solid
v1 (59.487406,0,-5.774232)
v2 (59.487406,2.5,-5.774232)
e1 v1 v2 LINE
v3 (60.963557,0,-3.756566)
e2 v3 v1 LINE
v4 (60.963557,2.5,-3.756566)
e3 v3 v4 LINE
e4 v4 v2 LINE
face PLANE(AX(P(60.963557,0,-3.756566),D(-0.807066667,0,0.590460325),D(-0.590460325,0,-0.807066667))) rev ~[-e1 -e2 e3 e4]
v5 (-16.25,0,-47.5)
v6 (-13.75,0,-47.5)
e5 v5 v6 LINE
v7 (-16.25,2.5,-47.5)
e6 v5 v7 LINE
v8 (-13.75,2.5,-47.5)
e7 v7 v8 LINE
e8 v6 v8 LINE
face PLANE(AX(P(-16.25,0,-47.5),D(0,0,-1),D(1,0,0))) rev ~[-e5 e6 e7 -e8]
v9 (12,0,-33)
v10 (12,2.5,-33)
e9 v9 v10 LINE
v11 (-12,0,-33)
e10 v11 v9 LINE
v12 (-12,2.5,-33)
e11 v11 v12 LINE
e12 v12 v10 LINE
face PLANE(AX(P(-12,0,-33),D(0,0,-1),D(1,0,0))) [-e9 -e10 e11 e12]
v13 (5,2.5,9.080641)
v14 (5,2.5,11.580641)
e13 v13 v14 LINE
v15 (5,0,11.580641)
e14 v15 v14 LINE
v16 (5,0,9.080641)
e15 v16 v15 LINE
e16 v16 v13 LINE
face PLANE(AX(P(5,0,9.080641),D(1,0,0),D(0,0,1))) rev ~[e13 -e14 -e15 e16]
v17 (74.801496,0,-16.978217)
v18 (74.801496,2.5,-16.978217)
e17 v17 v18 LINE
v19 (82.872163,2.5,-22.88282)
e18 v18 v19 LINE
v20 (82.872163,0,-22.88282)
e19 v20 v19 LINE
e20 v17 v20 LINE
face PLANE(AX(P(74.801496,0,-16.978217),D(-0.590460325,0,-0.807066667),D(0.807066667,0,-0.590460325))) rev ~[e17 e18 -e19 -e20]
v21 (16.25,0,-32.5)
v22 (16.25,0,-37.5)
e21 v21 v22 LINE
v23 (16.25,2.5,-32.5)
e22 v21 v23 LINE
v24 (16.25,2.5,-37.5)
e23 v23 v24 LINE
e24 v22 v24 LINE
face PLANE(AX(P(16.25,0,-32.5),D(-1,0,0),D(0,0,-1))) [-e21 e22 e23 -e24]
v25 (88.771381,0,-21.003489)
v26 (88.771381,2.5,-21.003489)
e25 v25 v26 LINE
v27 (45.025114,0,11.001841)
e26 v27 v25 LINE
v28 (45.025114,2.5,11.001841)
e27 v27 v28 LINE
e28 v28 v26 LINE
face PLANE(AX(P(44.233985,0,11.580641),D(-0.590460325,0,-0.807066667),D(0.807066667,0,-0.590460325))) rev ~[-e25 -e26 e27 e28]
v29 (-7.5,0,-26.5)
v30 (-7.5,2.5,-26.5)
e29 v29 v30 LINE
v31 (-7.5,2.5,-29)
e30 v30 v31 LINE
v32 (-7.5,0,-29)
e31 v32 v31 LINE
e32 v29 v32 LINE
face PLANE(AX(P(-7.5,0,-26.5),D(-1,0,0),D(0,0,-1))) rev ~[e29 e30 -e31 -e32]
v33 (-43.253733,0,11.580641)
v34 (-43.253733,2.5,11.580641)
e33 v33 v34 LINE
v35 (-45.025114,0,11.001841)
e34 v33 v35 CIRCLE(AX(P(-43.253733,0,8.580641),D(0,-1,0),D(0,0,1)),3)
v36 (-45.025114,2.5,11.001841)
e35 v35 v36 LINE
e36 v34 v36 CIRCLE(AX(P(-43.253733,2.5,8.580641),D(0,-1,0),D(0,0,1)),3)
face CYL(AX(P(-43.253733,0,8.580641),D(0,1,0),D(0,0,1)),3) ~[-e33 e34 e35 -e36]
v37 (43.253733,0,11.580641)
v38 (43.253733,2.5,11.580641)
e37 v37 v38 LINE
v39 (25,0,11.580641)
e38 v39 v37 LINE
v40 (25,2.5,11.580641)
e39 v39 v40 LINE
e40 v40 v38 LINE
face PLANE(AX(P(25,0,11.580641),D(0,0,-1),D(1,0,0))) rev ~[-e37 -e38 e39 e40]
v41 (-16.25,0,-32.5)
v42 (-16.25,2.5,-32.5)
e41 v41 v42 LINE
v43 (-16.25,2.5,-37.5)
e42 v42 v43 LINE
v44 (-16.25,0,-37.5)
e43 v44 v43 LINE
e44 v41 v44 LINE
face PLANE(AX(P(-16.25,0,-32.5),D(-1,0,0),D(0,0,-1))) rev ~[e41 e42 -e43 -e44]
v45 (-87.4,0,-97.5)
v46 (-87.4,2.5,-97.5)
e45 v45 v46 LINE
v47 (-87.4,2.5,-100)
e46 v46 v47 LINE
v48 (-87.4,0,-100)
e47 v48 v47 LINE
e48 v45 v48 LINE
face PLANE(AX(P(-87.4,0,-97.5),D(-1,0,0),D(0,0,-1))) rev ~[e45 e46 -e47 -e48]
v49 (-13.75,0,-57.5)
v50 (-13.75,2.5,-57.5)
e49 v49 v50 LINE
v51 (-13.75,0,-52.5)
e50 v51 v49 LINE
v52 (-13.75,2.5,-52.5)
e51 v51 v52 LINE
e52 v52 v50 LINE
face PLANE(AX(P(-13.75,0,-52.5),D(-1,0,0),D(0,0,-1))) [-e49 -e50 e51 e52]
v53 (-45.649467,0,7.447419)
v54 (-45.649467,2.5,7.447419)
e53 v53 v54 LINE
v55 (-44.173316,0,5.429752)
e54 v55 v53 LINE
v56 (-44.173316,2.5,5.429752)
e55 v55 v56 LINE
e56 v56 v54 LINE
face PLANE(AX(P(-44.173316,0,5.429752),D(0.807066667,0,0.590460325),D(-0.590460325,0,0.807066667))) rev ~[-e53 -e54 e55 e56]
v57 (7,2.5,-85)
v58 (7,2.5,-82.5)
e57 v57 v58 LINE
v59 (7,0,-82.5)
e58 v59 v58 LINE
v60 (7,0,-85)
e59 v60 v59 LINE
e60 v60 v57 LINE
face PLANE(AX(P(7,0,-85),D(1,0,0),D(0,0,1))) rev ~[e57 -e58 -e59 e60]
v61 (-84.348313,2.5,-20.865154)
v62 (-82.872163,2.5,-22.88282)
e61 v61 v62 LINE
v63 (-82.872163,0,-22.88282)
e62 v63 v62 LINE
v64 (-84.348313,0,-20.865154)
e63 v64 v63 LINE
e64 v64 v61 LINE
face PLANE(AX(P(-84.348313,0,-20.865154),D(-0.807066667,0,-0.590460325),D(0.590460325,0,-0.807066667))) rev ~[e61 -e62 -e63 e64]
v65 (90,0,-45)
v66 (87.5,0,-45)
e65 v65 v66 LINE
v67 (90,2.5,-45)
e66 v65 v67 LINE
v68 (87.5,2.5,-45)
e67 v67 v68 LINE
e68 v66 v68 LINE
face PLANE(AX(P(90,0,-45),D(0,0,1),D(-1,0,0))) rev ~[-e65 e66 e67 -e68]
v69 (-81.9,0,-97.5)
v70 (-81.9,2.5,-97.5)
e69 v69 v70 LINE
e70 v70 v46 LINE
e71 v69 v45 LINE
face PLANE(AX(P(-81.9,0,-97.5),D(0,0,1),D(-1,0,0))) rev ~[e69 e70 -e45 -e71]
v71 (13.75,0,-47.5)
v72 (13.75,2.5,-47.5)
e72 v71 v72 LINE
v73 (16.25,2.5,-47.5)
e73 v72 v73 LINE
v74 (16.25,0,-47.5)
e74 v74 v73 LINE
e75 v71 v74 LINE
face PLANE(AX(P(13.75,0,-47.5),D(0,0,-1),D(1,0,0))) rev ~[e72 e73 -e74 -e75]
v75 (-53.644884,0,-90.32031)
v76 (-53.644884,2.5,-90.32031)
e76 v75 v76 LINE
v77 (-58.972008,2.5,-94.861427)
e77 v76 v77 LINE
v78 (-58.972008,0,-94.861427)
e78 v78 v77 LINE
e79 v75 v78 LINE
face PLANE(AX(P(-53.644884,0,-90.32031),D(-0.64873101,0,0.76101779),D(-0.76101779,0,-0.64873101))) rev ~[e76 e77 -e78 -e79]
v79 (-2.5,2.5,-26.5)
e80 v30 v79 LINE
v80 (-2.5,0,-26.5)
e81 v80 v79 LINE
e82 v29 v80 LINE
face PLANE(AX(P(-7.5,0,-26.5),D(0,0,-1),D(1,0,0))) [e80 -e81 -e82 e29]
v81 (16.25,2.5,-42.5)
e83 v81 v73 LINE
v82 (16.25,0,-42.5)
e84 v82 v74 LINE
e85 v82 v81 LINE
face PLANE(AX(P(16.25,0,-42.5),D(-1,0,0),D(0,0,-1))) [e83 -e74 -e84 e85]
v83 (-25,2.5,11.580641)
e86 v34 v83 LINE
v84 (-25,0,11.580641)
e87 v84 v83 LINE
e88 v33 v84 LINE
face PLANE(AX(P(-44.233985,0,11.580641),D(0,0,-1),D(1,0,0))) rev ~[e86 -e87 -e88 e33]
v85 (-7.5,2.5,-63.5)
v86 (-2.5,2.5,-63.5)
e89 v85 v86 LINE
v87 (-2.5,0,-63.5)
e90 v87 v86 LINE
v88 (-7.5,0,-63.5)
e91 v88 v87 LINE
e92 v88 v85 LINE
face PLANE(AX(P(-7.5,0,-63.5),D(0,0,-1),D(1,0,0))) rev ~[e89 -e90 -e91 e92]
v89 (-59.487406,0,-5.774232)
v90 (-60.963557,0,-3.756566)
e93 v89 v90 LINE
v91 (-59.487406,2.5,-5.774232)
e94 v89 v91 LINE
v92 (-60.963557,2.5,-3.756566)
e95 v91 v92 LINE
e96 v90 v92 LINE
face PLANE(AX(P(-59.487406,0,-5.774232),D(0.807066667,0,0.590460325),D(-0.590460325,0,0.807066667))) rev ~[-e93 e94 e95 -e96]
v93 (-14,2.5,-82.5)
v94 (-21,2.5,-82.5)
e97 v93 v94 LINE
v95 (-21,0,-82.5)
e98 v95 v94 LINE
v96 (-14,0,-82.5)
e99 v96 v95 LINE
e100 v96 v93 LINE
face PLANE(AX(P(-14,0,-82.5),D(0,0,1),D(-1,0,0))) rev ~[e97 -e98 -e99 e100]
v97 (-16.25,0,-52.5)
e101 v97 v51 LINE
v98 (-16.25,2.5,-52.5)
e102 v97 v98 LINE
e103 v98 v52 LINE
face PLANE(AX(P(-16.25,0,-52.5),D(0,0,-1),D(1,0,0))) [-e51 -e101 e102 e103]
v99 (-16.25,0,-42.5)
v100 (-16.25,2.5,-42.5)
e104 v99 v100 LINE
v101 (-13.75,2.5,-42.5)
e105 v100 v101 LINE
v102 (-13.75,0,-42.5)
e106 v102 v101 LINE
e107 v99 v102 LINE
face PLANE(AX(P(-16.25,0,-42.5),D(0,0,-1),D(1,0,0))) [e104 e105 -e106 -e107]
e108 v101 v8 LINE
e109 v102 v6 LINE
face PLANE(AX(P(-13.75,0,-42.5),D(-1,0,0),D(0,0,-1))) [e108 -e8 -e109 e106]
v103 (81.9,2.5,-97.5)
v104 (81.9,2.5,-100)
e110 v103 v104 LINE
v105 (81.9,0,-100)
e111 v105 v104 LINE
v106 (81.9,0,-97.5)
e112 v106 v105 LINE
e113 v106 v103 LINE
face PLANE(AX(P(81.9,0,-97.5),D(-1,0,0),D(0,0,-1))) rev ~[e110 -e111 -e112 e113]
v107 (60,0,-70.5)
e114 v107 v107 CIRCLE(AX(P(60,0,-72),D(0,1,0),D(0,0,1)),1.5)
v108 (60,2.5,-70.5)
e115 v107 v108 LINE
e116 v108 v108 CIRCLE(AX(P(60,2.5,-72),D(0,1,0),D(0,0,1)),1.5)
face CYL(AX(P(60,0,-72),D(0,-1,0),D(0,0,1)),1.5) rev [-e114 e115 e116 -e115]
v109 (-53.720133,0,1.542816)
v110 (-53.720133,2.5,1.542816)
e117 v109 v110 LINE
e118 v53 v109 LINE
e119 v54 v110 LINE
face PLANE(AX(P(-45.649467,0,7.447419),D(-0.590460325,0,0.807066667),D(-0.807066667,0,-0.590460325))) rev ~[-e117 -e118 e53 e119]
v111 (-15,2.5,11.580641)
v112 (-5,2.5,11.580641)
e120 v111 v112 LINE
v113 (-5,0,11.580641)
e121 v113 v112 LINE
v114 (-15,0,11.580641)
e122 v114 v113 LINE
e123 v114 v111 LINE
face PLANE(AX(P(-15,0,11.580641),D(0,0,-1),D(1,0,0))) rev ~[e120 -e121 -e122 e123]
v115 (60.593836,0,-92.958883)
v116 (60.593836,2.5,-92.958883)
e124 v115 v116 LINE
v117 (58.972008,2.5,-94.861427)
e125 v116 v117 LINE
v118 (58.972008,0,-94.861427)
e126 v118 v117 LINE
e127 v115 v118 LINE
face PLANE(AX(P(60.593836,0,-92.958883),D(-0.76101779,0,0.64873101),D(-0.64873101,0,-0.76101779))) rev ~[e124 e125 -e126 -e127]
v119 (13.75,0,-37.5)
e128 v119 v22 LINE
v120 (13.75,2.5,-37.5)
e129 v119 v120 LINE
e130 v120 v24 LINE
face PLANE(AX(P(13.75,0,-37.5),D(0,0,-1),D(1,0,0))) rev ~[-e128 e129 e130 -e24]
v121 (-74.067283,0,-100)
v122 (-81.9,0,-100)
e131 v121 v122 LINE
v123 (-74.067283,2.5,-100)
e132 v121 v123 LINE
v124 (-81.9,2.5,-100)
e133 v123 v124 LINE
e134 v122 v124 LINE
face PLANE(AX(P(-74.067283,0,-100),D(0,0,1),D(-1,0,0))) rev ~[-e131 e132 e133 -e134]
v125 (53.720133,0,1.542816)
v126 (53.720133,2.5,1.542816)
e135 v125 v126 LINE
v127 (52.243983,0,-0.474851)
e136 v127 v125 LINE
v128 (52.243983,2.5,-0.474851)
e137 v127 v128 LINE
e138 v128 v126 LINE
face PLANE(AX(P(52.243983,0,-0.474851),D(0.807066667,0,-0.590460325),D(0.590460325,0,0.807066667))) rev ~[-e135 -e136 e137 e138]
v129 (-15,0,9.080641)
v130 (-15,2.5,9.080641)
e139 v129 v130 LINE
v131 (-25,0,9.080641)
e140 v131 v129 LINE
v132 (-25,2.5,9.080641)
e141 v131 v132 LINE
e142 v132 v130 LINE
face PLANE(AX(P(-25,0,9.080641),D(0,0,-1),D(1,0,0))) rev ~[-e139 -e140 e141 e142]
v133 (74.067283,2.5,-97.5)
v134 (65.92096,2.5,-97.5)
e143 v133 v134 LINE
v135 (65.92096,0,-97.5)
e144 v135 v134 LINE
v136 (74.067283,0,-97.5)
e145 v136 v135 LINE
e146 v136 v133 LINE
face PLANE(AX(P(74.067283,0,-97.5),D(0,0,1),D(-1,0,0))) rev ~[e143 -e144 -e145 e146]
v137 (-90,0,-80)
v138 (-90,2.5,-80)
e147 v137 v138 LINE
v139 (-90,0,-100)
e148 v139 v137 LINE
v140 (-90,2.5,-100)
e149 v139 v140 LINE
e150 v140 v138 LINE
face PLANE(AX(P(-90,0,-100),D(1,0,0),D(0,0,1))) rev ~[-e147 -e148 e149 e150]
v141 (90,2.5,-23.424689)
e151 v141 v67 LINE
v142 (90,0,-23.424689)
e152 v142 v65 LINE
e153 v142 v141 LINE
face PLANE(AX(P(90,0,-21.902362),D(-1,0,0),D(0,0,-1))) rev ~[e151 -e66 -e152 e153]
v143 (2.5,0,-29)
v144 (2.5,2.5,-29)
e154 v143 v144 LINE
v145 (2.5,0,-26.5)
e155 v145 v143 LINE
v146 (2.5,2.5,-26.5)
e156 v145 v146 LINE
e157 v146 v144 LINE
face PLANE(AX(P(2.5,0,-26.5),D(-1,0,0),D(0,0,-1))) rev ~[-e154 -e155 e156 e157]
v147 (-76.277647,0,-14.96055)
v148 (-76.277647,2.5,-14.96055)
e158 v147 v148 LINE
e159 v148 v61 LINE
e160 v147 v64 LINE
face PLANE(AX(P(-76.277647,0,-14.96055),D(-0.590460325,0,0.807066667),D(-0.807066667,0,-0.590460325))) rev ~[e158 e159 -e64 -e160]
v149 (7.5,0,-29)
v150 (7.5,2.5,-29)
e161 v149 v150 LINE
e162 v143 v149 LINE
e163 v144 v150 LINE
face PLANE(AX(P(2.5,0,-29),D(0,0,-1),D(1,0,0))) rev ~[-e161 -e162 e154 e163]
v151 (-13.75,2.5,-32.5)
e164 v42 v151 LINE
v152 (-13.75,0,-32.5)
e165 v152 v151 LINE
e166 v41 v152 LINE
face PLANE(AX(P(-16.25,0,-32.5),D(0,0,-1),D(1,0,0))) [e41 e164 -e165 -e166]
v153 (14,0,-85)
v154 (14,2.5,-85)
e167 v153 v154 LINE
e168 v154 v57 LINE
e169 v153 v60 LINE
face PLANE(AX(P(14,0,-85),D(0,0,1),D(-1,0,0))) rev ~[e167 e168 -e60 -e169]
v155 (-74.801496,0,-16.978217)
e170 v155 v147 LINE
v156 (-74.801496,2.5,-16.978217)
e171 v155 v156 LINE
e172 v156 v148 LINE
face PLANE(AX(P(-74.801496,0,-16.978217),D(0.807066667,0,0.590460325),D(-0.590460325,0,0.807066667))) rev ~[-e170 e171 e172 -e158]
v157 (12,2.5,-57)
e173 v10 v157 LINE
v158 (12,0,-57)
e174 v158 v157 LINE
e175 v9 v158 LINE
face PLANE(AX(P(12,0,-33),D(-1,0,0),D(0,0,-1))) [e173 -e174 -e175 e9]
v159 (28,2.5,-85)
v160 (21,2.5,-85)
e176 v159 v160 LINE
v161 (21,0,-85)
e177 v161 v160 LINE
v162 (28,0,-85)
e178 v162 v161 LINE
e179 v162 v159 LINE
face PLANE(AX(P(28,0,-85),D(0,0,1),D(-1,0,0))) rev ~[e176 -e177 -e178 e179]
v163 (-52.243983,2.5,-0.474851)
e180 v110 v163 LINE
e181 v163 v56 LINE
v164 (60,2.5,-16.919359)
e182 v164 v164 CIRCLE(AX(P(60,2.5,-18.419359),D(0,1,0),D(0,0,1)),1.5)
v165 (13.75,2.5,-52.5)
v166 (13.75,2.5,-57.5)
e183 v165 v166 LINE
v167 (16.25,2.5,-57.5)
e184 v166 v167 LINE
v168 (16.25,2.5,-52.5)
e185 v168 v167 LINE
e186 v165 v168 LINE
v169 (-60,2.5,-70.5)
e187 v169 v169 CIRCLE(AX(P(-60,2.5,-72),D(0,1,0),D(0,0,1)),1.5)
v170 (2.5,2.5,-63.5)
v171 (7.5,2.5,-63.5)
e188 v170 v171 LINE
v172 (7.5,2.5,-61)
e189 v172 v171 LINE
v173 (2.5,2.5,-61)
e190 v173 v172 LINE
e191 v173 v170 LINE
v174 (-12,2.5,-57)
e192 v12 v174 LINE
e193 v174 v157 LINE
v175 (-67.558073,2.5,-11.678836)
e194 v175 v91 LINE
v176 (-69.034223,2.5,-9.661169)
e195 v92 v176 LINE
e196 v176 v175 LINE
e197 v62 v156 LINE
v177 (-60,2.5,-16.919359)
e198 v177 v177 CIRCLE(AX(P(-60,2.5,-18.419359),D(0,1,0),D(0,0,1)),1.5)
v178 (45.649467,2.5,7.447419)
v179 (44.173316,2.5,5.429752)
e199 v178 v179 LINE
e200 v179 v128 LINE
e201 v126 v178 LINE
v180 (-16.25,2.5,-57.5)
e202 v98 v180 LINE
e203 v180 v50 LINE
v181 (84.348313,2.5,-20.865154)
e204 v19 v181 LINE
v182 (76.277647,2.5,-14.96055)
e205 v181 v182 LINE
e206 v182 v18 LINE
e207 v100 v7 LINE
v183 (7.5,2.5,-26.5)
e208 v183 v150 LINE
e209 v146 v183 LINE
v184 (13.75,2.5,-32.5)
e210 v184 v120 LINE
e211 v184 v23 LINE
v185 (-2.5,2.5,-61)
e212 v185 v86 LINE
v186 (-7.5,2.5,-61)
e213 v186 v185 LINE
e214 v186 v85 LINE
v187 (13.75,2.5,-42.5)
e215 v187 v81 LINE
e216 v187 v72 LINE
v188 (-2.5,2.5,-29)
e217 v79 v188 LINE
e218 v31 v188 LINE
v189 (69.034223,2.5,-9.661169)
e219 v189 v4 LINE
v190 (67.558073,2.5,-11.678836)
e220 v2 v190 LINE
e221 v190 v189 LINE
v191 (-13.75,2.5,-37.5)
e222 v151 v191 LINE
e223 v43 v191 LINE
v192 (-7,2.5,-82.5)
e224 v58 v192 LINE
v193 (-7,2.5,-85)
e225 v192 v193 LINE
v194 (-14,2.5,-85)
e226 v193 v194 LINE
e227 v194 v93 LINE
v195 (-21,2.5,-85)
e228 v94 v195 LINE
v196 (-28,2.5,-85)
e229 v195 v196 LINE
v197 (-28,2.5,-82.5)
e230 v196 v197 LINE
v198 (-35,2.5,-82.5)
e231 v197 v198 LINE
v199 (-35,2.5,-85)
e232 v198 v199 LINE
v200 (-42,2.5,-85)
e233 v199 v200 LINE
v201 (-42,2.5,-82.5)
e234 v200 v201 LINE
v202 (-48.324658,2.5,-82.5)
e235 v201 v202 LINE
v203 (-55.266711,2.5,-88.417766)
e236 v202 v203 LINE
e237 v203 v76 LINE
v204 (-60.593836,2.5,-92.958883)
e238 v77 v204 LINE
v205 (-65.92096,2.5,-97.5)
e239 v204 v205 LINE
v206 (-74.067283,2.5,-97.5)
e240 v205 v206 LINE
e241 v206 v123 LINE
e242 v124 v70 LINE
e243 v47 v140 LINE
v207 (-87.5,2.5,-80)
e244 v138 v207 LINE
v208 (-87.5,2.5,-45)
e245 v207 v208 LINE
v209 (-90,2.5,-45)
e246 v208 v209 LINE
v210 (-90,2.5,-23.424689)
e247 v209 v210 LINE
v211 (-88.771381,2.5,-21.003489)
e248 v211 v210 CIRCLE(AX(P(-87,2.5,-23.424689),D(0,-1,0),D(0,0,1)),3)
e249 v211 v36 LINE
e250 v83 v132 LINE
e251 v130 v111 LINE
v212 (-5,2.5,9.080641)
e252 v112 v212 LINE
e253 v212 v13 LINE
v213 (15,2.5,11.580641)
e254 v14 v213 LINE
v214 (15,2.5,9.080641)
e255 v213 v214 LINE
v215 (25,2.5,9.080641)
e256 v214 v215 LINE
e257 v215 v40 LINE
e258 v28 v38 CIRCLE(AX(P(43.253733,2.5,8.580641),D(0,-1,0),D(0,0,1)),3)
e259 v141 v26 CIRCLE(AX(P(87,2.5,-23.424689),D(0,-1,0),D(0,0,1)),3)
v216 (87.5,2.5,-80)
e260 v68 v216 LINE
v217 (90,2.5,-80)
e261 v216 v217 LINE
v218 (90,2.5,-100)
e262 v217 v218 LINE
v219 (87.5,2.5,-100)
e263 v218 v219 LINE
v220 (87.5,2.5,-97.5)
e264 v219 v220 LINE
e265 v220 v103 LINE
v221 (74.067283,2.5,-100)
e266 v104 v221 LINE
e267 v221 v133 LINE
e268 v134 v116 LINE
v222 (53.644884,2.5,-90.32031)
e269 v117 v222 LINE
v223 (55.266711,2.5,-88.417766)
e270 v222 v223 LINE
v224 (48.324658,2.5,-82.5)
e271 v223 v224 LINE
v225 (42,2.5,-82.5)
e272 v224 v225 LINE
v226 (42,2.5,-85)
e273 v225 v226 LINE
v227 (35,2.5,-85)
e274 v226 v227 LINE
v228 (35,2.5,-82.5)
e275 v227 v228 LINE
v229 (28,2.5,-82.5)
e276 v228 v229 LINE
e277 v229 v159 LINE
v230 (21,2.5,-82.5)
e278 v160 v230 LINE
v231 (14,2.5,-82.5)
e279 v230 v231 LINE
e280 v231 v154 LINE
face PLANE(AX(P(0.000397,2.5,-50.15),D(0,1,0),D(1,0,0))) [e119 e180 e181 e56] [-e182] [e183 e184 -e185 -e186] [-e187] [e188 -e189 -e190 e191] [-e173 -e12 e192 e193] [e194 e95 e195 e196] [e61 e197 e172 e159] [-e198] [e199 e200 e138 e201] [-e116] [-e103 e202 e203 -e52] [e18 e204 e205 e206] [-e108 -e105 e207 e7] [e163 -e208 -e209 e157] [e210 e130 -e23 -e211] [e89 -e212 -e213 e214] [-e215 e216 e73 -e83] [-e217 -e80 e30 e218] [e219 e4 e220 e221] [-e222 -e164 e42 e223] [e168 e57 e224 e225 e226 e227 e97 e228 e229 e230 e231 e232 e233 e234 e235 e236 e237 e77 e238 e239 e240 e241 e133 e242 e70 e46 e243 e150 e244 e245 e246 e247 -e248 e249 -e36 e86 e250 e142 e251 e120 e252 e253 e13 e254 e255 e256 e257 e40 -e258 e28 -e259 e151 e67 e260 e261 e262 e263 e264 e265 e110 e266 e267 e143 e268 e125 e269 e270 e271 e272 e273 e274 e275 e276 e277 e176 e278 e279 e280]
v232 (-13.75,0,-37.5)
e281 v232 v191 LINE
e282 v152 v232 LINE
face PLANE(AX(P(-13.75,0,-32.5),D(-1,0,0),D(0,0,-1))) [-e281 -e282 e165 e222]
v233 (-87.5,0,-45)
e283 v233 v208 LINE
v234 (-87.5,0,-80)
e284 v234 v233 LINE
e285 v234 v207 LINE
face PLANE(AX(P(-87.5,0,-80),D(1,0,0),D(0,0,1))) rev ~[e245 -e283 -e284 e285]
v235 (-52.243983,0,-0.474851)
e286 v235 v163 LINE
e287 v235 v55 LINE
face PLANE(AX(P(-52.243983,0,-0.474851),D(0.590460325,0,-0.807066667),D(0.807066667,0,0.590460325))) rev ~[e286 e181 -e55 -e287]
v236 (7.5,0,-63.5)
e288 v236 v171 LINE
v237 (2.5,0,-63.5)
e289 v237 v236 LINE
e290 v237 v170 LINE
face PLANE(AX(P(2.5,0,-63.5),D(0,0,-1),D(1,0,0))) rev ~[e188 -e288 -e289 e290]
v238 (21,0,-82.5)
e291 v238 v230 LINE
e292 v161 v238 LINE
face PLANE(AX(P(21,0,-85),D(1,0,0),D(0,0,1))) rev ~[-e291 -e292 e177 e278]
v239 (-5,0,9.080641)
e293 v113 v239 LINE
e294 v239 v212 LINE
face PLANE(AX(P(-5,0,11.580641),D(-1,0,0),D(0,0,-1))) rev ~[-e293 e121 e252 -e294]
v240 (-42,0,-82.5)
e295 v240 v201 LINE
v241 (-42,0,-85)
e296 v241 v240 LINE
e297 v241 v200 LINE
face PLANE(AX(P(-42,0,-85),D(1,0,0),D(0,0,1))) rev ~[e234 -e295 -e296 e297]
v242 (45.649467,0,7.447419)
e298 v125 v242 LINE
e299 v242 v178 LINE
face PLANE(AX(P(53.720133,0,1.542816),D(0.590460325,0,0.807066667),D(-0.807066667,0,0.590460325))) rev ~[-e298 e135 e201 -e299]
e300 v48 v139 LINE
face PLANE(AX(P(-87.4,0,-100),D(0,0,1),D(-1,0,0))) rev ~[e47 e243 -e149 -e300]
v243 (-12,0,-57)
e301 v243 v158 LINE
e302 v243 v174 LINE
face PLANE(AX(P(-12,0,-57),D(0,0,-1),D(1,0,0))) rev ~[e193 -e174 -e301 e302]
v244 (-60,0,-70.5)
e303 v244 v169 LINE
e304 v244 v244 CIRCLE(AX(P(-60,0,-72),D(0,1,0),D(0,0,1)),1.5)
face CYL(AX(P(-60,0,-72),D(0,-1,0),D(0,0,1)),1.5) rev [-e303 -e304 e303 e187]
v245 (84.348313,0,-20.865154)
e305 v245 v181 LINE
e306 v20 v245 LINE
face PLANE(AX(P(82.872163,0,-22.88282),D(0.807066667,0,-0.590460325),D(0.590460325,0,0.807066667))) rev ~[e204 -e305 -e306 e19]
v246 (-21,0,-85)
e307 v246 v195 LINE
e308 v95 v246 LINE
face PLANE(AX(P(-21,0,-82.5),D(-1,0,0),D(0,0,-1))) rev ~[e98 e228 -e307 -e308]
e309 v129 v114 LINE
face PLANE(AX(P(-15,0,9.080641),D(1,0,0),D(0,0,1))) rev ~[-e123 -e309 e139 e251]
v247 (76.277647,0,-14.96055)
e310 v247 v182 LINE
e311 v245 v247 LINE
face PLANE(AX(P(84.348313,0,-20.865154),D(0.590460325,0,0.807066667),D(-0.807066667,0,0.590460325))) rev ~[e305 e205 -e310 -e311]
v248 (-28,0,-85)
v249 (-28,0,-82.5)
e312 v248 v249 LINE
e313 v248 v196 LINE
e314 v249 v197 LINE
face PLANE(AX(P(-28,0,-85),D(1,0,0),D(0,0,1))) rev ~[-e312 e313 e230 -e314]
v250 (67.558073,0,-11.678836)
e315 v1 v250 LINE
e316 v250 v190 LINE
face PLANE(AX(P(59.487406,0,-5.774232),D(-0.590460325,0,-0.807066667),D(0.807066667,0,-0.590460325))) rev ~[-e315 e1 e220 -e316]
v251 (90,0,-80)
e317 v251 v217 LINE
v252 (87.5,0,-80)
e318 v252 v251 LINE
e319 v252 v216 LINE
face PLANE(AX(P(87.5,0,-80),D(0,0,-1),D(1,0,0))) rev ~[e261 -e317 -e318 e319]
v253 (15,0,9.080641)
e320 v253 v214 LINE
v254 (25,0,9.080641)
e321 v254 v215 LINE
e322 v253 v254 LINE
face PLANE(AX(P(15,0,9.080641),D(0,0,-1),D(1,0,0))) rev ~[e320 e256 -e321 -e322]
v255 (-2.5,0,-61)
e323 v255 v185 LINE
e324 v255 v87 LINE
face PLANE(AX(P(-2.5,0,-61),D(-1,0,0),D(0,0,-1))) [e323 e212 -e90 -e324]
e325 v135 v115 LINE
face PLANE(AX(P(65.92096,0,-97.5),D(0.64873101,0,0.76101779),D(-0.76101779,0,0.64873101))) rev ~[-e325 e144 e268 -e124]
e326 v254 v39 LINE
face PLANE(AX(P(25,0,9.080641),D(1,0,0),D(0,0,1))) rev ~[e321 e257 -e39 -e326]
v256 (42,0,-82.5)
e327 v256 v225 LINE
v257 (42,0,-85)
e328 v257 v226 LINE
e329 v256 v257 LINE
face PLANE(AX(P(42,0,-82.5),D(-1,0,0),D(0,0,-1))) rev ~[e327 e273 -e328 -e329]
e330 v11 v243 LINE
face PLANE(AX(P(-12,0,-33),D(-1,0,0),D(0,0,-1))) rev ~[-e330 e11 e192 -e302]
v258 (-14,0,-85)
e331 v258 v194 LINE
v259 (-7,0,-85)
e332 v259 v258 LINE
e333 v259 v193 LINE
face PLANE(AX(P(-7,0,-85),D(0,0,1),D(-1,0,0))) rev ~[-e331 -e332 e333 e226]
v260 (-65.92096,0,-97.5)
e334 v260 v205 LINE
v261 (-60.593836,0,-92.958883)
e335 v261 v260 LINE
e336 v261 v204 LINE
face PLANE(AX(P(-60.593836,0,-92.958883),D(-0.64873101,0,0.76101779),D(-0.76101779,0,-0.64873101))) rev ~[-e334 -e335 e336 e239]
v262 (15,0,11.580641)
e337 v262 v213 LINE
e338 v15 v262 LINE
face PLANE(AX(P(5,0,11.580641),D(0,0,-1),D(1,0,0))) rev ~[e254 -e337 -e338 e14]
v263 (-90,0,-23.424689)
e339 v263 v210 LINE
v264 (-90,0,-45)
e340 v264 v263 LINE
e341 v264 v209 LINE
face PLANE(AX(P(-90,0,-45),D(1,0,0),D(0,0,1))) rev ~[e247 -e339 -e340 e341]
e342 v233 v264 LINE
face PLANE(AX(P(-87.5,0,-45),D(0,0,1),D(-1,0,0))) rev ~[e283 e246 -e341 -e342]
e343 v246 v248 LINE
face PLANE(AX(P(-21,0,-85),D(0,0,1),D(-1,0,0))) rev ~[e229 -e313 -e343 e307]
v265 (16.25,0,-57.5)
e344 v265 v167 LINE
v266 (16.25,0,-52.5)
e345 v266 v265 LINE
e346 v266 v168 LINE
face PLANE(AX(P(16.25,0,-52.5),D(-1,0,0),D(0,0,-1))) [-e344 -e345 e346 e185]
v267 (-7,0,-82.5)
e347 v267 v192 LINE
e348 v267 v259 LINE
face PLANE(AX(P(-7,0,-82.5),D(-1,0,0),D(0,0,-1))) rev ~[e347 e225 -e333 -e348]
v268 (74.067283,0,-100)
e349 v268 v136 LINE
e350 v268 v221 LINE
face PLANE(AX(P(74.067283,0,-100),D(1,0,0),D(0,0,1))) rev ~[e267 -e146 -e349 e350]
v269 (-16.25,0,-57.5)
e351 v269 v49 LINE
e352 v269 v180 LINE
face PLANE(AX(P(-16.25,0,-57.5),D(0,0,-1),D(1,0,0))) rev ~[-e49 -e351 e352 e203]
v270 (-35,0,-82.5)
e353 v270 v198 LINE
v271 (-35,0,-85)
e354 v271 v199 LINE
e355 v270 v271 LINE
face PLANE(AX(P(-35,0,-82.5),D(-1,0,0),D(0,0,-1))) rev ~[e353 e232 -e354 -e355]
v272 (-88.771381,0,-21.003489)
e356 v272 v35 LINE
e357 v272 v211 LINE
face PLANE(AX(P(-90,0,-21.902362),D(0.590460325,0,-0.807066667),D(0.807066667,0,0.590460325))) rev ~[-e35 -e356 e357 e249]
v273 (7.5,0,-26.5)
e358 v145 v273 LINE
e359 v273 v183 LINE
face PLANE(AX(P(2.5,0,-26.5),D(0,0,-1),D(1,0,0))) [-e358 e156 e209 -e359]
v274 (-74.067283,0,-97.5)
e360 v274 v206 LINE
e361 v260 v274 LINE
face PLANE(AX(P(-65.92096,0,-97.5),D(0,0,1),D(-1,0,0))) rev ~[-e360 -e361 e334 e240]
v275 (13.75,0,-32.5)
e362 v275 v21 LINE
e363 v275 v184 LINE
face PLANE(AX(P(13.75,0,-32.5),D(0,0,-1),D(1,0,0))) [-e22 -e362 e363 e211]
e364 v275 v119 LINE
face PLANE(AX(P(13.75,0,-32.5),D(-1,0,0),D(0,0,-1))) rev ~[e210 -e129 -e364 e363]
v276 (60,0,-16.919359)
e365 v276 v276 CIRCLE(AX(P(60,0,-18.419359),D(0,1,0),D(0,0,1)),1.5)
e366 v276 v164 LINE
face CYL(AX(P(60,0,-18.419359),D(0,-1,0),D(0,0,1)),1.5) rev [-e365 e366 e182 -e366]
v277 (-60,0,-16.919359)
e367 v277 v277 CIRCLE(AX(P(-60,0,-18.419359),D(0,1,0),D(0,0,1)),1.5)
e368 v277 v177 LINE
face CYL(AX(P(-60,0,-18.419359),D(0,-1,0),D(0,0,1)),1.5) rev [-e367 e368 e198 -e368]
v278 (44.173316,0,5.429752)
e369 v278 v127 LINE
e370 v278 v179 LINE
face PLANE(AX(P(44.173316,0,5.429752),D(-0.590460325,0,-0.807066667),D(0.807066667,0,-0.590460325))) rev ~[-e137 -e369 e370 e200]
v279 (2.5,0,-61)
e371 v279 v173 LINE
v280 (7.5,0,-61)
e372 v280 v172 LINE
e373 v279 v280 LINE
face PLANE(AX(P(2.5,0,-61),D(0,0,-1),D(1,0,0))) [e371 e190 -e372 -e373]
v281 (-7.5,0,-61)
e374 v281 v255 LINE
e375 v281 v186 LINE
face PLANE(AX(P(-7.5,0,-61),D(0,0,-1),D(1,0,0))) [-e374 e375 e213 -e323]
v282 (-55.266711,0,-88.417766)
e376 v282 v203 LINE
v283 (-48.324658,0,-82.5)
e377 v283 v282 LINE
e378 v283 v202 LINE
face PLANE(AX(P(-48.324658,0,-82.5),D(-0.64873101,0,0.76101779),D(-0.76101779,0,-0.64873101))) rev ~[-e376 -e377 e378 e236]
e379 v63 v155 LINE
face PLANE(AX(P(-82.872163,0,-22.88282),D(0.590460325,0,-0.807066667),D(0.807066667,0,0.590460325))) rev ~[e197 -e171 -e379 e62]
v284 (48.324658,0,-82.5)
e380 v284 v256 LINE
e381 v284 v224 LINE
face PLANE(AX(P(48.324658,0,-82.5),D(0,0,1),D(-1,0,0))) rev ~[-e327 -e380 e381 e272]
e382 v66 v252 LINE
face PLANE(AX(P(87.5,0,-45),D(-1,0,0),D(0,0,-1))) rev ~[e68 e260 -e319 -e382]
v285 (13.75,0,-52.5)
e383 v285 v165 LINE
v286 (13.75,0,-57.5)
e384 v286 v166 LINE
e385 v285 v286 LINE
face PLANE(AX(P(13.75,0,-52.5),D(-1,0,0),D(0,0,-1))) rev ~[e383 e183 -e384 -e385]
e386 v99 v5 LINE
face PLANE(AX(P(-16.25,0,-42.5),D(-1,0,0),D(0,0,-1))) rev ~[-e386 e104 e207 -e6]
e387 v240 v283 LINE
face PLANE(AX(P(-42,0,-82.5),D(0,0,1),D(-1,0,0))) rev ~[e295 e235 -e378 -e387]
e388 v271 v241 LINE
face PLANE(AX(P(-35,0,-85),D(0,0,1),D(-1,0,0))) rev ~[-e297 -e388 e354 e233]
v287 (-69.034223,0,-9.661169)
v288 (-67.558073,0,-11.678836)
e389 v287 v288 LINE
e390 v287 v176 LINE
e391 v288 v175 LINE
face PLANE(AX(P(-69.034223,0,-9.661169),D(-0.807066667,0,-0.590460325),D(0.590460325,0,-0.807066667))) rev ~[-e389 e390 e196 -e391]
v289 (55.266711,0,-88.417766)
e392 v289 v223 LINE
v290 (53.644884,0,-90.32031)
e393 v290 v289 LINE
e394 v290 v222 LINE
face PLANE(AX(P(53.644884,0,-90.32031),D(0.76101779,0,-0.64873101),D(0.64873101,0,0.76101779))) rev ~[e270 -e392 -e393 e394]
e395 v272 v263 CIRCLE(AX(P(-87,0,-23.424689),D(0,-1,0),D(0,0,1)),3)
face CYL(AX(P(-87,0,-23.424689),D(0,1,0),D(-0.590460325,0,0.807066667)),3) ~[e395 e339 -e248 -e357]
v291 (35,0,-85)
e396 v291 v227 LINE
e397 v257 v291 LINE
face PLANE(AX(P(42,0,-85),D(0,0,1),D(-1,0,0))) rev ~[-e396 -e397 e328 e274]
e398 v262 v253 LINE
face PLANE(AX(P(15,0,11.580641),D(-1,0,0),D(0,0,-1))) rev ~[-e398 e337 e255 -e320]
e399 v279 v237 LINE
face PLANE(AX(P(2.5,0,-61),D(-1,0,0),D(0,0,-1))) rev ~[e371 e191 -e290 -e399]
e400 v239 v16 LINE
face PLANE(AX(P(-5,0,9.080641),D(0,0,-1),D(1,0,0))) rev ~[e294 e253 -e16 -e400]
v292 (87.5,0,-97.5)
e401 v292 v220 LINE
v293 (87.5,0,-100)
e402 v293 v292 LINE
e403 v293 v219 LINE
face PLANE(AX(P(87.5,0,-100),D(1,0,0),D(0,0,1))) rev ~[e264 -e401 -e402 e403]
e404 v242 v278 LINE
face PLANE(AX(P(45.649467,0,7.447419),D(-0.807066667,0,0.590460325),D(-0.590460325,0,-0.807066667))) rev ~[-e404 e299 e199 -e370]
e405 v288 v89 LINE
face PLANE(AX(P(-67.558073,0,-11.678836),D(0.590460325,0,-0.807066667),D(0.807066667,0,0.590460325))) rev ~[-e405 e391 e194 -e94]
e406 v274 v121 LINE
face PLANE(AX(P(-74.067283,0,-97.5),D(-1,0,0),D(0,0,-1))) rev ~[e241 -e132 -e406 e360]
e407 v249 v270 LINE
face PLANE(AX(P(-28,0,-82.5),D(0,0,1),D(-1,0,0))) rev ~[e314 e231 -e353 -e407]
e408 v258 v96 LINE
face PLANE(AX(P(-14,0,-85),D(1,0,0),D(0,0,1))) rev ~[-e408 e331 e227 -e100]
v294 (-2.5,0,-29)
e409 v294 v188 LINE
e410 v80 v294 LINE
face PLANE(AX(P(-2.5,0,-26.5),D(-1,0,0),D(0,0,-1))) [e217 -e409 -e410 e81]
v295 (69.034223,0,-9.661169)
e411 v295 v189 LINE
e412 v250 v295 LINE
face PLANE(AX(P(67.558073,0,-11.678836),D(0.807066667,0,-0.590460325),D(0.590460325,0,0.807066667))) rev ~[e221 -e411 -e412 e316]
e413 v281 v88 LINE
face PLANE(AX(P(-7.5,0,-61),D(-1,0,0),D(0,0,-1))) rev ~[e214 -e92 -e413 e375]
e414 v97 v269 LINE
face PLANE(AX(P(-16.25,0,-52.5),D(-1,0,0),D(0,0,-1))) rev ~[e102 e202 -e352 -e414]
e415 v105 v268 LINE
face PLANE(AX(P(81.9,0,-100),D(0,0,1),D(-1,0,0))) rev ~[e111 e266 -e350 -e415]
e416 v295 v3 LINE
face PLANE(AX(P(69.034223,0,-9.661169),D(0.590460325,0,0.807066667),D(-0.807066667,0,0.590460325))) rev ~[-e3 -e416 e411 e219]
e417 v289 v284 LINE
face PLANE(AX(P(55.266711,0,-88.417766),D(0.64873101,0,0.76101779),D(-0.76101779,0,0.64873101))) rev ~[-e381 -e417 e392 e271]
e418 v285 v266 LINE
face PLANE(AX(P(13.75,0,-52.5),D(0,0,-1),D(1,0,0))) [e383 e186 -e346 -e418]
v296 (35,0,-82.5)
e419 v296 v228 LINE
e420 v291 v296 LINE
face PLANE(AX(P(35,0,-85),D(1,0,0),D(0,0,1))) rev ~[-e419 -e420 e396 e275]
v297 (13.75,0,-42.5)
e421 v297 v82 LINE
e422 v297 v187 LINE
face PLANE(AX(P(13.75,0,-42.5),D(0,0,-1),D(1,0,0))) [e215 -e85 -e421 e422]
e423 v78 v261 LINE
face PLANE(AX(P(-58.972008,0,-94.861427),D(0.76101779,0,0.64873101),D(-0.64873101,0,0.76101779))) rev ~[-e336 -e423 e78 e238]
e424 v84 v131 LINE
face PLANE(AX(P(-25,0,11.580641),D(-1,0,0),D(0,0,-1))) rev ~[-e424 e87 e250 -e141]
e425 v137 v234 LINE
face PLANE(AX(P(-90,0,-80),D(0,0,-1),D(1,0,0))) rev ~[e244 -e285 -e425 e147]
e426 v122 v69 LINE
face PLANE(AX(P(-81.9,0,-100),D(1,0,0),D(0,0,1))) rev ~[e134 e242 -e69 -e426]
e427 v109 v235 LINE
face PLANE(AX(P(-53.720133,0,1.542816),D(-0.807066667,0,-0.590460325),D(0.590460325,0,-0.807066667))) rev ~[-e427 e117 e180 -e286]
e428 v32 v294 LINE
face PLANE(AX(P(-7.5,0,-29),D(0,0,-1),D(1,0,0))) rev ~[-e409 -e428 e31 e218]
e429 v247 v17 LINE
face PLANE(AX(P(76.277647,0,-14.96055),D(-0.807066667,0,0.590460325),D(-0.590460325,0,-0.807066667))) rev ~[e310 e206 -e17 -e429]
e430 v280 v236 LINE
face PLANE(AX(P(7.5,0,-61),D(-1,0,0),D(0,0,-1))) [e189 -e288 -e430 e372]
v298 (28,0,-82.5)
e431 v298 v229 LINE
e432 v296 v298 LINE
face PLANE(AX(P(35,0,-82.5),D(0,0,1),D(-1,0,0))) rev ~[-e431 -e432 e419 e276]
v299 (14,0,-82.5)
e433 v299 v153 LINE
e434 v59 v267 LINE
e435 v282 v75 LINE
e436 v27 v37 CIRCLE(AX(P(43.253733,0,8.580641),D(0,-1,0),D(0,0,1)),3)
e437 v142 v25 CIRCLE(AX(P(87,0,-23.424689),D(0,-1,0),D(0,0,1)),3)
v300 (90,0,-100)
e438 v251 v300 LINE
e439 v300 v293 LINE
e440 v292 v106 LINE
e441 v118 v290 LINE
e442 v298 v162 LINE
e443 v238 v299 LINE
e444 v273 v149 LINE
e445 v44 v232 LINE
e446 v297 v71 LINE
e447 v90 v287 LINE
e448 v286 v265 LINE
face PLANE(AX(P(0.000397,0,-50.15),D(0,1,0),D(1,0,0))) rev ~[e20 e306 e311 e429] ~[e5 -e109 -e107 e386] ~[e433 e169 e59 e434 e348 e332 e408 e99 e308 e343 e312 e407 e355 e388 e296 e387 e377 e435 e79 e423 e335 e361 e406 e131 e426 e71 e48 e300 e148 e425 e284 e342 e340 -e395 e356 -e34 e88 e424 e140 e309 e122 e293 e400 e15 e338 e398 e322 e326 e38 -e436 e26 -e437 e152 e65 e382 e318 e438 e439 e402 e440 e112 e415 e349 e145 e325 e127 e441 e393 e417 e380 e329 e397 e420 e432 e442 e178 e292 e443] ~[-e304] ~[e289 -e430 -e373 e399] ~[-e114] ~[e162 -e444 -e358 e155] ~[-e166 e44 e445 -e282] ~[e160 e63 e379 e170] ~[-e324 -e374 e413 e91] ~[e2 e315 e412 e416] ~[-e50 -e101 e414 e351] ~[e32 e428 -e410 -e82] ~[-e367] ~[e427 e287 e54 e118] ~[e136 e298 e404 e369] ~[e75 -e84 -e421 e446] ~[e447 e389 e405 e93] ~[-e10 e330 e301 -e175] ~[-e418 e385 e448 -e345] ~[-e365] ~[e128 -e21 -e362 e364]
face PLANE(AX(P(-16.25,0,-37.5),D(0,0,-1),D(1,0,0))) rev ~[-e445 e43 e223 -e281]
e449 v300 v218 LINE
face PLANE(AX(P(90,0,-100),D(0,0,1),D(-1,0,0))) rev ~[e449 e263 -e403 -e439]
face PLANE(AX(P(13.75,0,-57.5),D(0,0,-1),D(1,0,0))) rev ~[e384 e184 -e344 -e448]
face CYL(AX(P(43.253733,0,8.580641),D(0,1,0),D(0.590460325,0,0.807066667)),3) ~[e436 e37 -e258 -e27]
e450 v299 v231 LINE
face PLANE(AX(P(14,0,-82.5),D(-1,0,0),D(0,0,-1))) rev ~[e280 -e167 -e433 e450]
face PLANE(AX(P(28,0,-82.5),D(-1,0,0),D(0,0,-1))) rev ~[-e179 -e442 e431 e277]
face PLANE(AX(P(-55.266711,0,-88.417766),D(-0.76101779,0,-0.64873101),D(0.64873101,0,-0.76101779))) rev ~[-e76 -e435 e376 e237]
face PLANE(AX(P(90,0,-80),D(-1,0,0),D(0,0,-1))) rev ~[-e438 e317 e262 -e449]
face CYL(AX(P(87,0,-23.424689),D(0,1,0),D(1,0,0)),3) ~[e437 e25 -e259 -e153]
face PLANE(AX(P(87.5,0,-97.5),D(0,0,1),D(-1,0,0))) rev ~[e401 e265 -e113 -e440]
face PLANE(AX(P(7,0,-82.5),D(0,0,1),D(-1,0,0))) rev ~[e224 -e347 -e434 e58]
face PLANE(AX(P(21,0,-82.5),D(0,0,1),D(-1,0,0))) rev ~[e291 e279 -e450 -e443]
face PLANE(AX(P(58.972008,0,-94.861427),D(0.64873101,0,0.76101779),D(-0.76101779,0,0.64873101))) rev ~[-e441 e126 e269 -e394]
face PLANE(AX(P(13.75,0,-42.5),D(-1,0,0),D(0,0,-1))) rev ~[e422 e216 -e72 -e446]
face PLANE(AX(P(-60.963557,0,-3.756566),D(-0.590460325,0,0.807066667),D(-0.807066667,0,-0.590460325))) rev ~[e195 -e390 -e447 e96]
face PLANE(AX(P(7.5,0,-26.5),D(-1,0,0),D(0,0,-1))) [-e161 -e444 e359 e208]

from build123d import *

# Parameters (mm, degrees)
SKETCH1_R           = 1.5
SKETCH1_W           = 5
SKETCH1_H           = 2.5
SKETCH1_W_2         = 2.5
SKETCH1_H_2         = 5
SKETCH1_W_3         = 24
SKETCH1_H_3         = 24
BOSS_EXTRUDE1_DEPTH = 2.5
FILLET1_R           = 3


with BuildPart() as part:
    # Sketch1 → Boss-Extrude1 (new body)
    with BuildSketch(Plane(origin=(0, 0, 0), x_dir=(1, 0, 0), z_dir=(0, 1, 0))):
        Polygon((42, 82.5), (42, 85), (35, 85), (35, 82.5), (28, 82.5), (28, 85), (21, 85), (21, 82.5), (14, 82.5), (14, 85), (7, 85), (7, 82.5), (-7, 82.5), (-7, 85), (-14, 85), (-14, 82.5), (-21, 82.5), (-21, 85), (-28, 85), (-28, 82.5), (-35, 82.5), (-35, 85), (-42, 85), (-42, 82.5), (-48.324658201, 82.5), (-55.266711269, 88.417765861), (-53.644883744, 90.320310336), (-58.972008275, 94.861427406), (-60.5938358, 92.958882931), (-65.92096033, 97.5), (-74.067282979, 97.5), (-74.067282979, 100), (-81.9, 100), (-81.9, 97.5), (-87.4, 97.5), (-87.4, 100), (-90, 100), (-90, 80), (-87.5, 80), (-87.5, 45), (-90, 45), (-90, 21.902362465), (-44.23398473, -11.580641316), (-25, -11.580641316), (-25, -9.080641316), (-15, -9.080641316), (-15, -11.580641316), (-5, -11.580641316), (-5, -9.080641316), (5, -9.080641316), (5, -11.580641316), (15, -11.580641316), (15, -9.080641316), (25, -9.080641316), (25, -11.580641316), (44.23398473, -11.580641316), (90, 21.902362465), (90, 45), (87.5, 45), (87.5, 80), (90, 80), (90, 100), (87.5, 100), (87.5, 97.5), (81.9, 97.5), (81.9, 100), (74.067282979, 100), (74.067282979, 97.5), (65.92096033, 97.5), (60.593835799, 92.958882931), (58.972008275, 94.861427406), (53.644883744, 90.320310336), (55.266711269, 88.417765861), (48.324658201, 82.5), align=None)
        Polygon((82.872162523, 22.882820213), (84.348313336, 20.865153546), (76.277646669, 14.960550296), (74.801495856, 16.978216962), align=None, mode=Mode.SUBTRACT)
        Polygon((67.558072522, 11.678835545), (69.034223335, 9.661168878), (60.963556668, 3.756565627), (59.487405855, 5.774232294), align=None, mode=Mode.SUBTRACT)
        Polygon((52.243982521, 0.474850877), (53.720133334, -1.54281579), (45.649466667, -7.447419041), (44.173315854, -5.429752374), align=None, mode=Mode.SUBTRACT)
        Polygon((-52.243982521, 0.474850877), (-44.173315854, -5.429752374), (-45.649466667, -7.447419041), (-53.720133334, -1.54281579), align=None, mode=Mode.SUBTRACT)
        Polygon((-59.487405855, 5.774232294), (-60.963556668, 3.756565627), (-69.034223335, 9.661168878), (-67.558072522, 11.678835545), align=None, mode=Mode.SUBTRACT)
        Polygon((-74.801495856, 16.978216962), (-76.277646669, 14.960550296), (-84.348313336, 20.865153546), (-82.872162523, 22.882820213), align=None, mode=Mode.SUBTRACT)
        with Locations(Location((-60, 18.419358684, 0), (0, 0, 270))):
            Circle(SKETCH1_R, mode=Mode.SUBTRACT)
        with Locations((-5, 27.75)):
            Rectangle(SKETCH1_W, SKETCH1_H, mode=Mode.SUBTRACT)
        with Locations((-15, 35)):
            Rectangle(SKETCH1_W_2, SKETCH1_H_2, mode=Mode.SUBTRACT)
        with Locations((5, 27.75)):
            Rectangle(SKETCH1_W, SKETCH1_H, mode=Mode.SUBTRACT)
        with Locations((15, 35)):
            Rectangle(SKETCH1_W_2, SKETCH1_H_2, mode=Mode.SUBTRACT)
        with Locations(Location((60, 18.419358684, 0), (0, 0, 270))):
            Circle(SKETCH1_R, mode=Mode.SUBTRACT)
        with Locations(Location((-60, 72, 0), (0, 0, 270))):
            Circle(SKETCH1_R, mode=Mode.SUBTRACT)
        with Locations((-15, 45)):
            Rectangle(SKETCH1_W_2, SKETCH1_H_2, mode=Mode.SUBTRACT)
        with Locations((-15, 55)):
            Rectangle(SKETCH1_W_2, SKETCH1_H_2, mode=Mode.SUBTRACT)
        with Locations((-5, 62.25)):
            Rectangle(SKETCH1_W, SKETCH1_H, mode=Mode.SUBTRACT)
        with Locations((0, 45)):
            Rectangle(SKETCH1_W_3, SKETCH1_H_3, mode=Mode.SUBTRACT)
        with Locations((15, 45)):
            Rectangle(SKETCH1_W_2, SKETCH1_H_2, mode=Mode.SUBTRACT)
        with Locations((15, 55)):
            Rectangle(SKETCH1_W_2, SKETCH1_H_2, mode=Mode.SUBTRACT)
        with Locations((5, 62.25)):
            Rectangle(SKETCH1_W, SKETCH1_H, mode=Mode.SUBTRACT)
        with Locations(Location((60, 72, 0), (0, 0, 270))):
            Circle(SKETCH1_R, mode=Mode.SUBTRACT)
    extrude(amount=BOSS_EXTRUDE1_DEPTH)

    # Fillet1
    fillet1_edges = [part.edges().sort_by_distance(p)[0] for p in [
        (90, 1.25, -21.902362465),
        (44.23398473, 1.25, 11.580641316),
        (-44.23398473, 1.25, 11.580641316),
        (-90, 1.25, -21.902362465),
    ]]
    fillet(fillet1_edges, radius=FILLET1_R)


solid = part.part
